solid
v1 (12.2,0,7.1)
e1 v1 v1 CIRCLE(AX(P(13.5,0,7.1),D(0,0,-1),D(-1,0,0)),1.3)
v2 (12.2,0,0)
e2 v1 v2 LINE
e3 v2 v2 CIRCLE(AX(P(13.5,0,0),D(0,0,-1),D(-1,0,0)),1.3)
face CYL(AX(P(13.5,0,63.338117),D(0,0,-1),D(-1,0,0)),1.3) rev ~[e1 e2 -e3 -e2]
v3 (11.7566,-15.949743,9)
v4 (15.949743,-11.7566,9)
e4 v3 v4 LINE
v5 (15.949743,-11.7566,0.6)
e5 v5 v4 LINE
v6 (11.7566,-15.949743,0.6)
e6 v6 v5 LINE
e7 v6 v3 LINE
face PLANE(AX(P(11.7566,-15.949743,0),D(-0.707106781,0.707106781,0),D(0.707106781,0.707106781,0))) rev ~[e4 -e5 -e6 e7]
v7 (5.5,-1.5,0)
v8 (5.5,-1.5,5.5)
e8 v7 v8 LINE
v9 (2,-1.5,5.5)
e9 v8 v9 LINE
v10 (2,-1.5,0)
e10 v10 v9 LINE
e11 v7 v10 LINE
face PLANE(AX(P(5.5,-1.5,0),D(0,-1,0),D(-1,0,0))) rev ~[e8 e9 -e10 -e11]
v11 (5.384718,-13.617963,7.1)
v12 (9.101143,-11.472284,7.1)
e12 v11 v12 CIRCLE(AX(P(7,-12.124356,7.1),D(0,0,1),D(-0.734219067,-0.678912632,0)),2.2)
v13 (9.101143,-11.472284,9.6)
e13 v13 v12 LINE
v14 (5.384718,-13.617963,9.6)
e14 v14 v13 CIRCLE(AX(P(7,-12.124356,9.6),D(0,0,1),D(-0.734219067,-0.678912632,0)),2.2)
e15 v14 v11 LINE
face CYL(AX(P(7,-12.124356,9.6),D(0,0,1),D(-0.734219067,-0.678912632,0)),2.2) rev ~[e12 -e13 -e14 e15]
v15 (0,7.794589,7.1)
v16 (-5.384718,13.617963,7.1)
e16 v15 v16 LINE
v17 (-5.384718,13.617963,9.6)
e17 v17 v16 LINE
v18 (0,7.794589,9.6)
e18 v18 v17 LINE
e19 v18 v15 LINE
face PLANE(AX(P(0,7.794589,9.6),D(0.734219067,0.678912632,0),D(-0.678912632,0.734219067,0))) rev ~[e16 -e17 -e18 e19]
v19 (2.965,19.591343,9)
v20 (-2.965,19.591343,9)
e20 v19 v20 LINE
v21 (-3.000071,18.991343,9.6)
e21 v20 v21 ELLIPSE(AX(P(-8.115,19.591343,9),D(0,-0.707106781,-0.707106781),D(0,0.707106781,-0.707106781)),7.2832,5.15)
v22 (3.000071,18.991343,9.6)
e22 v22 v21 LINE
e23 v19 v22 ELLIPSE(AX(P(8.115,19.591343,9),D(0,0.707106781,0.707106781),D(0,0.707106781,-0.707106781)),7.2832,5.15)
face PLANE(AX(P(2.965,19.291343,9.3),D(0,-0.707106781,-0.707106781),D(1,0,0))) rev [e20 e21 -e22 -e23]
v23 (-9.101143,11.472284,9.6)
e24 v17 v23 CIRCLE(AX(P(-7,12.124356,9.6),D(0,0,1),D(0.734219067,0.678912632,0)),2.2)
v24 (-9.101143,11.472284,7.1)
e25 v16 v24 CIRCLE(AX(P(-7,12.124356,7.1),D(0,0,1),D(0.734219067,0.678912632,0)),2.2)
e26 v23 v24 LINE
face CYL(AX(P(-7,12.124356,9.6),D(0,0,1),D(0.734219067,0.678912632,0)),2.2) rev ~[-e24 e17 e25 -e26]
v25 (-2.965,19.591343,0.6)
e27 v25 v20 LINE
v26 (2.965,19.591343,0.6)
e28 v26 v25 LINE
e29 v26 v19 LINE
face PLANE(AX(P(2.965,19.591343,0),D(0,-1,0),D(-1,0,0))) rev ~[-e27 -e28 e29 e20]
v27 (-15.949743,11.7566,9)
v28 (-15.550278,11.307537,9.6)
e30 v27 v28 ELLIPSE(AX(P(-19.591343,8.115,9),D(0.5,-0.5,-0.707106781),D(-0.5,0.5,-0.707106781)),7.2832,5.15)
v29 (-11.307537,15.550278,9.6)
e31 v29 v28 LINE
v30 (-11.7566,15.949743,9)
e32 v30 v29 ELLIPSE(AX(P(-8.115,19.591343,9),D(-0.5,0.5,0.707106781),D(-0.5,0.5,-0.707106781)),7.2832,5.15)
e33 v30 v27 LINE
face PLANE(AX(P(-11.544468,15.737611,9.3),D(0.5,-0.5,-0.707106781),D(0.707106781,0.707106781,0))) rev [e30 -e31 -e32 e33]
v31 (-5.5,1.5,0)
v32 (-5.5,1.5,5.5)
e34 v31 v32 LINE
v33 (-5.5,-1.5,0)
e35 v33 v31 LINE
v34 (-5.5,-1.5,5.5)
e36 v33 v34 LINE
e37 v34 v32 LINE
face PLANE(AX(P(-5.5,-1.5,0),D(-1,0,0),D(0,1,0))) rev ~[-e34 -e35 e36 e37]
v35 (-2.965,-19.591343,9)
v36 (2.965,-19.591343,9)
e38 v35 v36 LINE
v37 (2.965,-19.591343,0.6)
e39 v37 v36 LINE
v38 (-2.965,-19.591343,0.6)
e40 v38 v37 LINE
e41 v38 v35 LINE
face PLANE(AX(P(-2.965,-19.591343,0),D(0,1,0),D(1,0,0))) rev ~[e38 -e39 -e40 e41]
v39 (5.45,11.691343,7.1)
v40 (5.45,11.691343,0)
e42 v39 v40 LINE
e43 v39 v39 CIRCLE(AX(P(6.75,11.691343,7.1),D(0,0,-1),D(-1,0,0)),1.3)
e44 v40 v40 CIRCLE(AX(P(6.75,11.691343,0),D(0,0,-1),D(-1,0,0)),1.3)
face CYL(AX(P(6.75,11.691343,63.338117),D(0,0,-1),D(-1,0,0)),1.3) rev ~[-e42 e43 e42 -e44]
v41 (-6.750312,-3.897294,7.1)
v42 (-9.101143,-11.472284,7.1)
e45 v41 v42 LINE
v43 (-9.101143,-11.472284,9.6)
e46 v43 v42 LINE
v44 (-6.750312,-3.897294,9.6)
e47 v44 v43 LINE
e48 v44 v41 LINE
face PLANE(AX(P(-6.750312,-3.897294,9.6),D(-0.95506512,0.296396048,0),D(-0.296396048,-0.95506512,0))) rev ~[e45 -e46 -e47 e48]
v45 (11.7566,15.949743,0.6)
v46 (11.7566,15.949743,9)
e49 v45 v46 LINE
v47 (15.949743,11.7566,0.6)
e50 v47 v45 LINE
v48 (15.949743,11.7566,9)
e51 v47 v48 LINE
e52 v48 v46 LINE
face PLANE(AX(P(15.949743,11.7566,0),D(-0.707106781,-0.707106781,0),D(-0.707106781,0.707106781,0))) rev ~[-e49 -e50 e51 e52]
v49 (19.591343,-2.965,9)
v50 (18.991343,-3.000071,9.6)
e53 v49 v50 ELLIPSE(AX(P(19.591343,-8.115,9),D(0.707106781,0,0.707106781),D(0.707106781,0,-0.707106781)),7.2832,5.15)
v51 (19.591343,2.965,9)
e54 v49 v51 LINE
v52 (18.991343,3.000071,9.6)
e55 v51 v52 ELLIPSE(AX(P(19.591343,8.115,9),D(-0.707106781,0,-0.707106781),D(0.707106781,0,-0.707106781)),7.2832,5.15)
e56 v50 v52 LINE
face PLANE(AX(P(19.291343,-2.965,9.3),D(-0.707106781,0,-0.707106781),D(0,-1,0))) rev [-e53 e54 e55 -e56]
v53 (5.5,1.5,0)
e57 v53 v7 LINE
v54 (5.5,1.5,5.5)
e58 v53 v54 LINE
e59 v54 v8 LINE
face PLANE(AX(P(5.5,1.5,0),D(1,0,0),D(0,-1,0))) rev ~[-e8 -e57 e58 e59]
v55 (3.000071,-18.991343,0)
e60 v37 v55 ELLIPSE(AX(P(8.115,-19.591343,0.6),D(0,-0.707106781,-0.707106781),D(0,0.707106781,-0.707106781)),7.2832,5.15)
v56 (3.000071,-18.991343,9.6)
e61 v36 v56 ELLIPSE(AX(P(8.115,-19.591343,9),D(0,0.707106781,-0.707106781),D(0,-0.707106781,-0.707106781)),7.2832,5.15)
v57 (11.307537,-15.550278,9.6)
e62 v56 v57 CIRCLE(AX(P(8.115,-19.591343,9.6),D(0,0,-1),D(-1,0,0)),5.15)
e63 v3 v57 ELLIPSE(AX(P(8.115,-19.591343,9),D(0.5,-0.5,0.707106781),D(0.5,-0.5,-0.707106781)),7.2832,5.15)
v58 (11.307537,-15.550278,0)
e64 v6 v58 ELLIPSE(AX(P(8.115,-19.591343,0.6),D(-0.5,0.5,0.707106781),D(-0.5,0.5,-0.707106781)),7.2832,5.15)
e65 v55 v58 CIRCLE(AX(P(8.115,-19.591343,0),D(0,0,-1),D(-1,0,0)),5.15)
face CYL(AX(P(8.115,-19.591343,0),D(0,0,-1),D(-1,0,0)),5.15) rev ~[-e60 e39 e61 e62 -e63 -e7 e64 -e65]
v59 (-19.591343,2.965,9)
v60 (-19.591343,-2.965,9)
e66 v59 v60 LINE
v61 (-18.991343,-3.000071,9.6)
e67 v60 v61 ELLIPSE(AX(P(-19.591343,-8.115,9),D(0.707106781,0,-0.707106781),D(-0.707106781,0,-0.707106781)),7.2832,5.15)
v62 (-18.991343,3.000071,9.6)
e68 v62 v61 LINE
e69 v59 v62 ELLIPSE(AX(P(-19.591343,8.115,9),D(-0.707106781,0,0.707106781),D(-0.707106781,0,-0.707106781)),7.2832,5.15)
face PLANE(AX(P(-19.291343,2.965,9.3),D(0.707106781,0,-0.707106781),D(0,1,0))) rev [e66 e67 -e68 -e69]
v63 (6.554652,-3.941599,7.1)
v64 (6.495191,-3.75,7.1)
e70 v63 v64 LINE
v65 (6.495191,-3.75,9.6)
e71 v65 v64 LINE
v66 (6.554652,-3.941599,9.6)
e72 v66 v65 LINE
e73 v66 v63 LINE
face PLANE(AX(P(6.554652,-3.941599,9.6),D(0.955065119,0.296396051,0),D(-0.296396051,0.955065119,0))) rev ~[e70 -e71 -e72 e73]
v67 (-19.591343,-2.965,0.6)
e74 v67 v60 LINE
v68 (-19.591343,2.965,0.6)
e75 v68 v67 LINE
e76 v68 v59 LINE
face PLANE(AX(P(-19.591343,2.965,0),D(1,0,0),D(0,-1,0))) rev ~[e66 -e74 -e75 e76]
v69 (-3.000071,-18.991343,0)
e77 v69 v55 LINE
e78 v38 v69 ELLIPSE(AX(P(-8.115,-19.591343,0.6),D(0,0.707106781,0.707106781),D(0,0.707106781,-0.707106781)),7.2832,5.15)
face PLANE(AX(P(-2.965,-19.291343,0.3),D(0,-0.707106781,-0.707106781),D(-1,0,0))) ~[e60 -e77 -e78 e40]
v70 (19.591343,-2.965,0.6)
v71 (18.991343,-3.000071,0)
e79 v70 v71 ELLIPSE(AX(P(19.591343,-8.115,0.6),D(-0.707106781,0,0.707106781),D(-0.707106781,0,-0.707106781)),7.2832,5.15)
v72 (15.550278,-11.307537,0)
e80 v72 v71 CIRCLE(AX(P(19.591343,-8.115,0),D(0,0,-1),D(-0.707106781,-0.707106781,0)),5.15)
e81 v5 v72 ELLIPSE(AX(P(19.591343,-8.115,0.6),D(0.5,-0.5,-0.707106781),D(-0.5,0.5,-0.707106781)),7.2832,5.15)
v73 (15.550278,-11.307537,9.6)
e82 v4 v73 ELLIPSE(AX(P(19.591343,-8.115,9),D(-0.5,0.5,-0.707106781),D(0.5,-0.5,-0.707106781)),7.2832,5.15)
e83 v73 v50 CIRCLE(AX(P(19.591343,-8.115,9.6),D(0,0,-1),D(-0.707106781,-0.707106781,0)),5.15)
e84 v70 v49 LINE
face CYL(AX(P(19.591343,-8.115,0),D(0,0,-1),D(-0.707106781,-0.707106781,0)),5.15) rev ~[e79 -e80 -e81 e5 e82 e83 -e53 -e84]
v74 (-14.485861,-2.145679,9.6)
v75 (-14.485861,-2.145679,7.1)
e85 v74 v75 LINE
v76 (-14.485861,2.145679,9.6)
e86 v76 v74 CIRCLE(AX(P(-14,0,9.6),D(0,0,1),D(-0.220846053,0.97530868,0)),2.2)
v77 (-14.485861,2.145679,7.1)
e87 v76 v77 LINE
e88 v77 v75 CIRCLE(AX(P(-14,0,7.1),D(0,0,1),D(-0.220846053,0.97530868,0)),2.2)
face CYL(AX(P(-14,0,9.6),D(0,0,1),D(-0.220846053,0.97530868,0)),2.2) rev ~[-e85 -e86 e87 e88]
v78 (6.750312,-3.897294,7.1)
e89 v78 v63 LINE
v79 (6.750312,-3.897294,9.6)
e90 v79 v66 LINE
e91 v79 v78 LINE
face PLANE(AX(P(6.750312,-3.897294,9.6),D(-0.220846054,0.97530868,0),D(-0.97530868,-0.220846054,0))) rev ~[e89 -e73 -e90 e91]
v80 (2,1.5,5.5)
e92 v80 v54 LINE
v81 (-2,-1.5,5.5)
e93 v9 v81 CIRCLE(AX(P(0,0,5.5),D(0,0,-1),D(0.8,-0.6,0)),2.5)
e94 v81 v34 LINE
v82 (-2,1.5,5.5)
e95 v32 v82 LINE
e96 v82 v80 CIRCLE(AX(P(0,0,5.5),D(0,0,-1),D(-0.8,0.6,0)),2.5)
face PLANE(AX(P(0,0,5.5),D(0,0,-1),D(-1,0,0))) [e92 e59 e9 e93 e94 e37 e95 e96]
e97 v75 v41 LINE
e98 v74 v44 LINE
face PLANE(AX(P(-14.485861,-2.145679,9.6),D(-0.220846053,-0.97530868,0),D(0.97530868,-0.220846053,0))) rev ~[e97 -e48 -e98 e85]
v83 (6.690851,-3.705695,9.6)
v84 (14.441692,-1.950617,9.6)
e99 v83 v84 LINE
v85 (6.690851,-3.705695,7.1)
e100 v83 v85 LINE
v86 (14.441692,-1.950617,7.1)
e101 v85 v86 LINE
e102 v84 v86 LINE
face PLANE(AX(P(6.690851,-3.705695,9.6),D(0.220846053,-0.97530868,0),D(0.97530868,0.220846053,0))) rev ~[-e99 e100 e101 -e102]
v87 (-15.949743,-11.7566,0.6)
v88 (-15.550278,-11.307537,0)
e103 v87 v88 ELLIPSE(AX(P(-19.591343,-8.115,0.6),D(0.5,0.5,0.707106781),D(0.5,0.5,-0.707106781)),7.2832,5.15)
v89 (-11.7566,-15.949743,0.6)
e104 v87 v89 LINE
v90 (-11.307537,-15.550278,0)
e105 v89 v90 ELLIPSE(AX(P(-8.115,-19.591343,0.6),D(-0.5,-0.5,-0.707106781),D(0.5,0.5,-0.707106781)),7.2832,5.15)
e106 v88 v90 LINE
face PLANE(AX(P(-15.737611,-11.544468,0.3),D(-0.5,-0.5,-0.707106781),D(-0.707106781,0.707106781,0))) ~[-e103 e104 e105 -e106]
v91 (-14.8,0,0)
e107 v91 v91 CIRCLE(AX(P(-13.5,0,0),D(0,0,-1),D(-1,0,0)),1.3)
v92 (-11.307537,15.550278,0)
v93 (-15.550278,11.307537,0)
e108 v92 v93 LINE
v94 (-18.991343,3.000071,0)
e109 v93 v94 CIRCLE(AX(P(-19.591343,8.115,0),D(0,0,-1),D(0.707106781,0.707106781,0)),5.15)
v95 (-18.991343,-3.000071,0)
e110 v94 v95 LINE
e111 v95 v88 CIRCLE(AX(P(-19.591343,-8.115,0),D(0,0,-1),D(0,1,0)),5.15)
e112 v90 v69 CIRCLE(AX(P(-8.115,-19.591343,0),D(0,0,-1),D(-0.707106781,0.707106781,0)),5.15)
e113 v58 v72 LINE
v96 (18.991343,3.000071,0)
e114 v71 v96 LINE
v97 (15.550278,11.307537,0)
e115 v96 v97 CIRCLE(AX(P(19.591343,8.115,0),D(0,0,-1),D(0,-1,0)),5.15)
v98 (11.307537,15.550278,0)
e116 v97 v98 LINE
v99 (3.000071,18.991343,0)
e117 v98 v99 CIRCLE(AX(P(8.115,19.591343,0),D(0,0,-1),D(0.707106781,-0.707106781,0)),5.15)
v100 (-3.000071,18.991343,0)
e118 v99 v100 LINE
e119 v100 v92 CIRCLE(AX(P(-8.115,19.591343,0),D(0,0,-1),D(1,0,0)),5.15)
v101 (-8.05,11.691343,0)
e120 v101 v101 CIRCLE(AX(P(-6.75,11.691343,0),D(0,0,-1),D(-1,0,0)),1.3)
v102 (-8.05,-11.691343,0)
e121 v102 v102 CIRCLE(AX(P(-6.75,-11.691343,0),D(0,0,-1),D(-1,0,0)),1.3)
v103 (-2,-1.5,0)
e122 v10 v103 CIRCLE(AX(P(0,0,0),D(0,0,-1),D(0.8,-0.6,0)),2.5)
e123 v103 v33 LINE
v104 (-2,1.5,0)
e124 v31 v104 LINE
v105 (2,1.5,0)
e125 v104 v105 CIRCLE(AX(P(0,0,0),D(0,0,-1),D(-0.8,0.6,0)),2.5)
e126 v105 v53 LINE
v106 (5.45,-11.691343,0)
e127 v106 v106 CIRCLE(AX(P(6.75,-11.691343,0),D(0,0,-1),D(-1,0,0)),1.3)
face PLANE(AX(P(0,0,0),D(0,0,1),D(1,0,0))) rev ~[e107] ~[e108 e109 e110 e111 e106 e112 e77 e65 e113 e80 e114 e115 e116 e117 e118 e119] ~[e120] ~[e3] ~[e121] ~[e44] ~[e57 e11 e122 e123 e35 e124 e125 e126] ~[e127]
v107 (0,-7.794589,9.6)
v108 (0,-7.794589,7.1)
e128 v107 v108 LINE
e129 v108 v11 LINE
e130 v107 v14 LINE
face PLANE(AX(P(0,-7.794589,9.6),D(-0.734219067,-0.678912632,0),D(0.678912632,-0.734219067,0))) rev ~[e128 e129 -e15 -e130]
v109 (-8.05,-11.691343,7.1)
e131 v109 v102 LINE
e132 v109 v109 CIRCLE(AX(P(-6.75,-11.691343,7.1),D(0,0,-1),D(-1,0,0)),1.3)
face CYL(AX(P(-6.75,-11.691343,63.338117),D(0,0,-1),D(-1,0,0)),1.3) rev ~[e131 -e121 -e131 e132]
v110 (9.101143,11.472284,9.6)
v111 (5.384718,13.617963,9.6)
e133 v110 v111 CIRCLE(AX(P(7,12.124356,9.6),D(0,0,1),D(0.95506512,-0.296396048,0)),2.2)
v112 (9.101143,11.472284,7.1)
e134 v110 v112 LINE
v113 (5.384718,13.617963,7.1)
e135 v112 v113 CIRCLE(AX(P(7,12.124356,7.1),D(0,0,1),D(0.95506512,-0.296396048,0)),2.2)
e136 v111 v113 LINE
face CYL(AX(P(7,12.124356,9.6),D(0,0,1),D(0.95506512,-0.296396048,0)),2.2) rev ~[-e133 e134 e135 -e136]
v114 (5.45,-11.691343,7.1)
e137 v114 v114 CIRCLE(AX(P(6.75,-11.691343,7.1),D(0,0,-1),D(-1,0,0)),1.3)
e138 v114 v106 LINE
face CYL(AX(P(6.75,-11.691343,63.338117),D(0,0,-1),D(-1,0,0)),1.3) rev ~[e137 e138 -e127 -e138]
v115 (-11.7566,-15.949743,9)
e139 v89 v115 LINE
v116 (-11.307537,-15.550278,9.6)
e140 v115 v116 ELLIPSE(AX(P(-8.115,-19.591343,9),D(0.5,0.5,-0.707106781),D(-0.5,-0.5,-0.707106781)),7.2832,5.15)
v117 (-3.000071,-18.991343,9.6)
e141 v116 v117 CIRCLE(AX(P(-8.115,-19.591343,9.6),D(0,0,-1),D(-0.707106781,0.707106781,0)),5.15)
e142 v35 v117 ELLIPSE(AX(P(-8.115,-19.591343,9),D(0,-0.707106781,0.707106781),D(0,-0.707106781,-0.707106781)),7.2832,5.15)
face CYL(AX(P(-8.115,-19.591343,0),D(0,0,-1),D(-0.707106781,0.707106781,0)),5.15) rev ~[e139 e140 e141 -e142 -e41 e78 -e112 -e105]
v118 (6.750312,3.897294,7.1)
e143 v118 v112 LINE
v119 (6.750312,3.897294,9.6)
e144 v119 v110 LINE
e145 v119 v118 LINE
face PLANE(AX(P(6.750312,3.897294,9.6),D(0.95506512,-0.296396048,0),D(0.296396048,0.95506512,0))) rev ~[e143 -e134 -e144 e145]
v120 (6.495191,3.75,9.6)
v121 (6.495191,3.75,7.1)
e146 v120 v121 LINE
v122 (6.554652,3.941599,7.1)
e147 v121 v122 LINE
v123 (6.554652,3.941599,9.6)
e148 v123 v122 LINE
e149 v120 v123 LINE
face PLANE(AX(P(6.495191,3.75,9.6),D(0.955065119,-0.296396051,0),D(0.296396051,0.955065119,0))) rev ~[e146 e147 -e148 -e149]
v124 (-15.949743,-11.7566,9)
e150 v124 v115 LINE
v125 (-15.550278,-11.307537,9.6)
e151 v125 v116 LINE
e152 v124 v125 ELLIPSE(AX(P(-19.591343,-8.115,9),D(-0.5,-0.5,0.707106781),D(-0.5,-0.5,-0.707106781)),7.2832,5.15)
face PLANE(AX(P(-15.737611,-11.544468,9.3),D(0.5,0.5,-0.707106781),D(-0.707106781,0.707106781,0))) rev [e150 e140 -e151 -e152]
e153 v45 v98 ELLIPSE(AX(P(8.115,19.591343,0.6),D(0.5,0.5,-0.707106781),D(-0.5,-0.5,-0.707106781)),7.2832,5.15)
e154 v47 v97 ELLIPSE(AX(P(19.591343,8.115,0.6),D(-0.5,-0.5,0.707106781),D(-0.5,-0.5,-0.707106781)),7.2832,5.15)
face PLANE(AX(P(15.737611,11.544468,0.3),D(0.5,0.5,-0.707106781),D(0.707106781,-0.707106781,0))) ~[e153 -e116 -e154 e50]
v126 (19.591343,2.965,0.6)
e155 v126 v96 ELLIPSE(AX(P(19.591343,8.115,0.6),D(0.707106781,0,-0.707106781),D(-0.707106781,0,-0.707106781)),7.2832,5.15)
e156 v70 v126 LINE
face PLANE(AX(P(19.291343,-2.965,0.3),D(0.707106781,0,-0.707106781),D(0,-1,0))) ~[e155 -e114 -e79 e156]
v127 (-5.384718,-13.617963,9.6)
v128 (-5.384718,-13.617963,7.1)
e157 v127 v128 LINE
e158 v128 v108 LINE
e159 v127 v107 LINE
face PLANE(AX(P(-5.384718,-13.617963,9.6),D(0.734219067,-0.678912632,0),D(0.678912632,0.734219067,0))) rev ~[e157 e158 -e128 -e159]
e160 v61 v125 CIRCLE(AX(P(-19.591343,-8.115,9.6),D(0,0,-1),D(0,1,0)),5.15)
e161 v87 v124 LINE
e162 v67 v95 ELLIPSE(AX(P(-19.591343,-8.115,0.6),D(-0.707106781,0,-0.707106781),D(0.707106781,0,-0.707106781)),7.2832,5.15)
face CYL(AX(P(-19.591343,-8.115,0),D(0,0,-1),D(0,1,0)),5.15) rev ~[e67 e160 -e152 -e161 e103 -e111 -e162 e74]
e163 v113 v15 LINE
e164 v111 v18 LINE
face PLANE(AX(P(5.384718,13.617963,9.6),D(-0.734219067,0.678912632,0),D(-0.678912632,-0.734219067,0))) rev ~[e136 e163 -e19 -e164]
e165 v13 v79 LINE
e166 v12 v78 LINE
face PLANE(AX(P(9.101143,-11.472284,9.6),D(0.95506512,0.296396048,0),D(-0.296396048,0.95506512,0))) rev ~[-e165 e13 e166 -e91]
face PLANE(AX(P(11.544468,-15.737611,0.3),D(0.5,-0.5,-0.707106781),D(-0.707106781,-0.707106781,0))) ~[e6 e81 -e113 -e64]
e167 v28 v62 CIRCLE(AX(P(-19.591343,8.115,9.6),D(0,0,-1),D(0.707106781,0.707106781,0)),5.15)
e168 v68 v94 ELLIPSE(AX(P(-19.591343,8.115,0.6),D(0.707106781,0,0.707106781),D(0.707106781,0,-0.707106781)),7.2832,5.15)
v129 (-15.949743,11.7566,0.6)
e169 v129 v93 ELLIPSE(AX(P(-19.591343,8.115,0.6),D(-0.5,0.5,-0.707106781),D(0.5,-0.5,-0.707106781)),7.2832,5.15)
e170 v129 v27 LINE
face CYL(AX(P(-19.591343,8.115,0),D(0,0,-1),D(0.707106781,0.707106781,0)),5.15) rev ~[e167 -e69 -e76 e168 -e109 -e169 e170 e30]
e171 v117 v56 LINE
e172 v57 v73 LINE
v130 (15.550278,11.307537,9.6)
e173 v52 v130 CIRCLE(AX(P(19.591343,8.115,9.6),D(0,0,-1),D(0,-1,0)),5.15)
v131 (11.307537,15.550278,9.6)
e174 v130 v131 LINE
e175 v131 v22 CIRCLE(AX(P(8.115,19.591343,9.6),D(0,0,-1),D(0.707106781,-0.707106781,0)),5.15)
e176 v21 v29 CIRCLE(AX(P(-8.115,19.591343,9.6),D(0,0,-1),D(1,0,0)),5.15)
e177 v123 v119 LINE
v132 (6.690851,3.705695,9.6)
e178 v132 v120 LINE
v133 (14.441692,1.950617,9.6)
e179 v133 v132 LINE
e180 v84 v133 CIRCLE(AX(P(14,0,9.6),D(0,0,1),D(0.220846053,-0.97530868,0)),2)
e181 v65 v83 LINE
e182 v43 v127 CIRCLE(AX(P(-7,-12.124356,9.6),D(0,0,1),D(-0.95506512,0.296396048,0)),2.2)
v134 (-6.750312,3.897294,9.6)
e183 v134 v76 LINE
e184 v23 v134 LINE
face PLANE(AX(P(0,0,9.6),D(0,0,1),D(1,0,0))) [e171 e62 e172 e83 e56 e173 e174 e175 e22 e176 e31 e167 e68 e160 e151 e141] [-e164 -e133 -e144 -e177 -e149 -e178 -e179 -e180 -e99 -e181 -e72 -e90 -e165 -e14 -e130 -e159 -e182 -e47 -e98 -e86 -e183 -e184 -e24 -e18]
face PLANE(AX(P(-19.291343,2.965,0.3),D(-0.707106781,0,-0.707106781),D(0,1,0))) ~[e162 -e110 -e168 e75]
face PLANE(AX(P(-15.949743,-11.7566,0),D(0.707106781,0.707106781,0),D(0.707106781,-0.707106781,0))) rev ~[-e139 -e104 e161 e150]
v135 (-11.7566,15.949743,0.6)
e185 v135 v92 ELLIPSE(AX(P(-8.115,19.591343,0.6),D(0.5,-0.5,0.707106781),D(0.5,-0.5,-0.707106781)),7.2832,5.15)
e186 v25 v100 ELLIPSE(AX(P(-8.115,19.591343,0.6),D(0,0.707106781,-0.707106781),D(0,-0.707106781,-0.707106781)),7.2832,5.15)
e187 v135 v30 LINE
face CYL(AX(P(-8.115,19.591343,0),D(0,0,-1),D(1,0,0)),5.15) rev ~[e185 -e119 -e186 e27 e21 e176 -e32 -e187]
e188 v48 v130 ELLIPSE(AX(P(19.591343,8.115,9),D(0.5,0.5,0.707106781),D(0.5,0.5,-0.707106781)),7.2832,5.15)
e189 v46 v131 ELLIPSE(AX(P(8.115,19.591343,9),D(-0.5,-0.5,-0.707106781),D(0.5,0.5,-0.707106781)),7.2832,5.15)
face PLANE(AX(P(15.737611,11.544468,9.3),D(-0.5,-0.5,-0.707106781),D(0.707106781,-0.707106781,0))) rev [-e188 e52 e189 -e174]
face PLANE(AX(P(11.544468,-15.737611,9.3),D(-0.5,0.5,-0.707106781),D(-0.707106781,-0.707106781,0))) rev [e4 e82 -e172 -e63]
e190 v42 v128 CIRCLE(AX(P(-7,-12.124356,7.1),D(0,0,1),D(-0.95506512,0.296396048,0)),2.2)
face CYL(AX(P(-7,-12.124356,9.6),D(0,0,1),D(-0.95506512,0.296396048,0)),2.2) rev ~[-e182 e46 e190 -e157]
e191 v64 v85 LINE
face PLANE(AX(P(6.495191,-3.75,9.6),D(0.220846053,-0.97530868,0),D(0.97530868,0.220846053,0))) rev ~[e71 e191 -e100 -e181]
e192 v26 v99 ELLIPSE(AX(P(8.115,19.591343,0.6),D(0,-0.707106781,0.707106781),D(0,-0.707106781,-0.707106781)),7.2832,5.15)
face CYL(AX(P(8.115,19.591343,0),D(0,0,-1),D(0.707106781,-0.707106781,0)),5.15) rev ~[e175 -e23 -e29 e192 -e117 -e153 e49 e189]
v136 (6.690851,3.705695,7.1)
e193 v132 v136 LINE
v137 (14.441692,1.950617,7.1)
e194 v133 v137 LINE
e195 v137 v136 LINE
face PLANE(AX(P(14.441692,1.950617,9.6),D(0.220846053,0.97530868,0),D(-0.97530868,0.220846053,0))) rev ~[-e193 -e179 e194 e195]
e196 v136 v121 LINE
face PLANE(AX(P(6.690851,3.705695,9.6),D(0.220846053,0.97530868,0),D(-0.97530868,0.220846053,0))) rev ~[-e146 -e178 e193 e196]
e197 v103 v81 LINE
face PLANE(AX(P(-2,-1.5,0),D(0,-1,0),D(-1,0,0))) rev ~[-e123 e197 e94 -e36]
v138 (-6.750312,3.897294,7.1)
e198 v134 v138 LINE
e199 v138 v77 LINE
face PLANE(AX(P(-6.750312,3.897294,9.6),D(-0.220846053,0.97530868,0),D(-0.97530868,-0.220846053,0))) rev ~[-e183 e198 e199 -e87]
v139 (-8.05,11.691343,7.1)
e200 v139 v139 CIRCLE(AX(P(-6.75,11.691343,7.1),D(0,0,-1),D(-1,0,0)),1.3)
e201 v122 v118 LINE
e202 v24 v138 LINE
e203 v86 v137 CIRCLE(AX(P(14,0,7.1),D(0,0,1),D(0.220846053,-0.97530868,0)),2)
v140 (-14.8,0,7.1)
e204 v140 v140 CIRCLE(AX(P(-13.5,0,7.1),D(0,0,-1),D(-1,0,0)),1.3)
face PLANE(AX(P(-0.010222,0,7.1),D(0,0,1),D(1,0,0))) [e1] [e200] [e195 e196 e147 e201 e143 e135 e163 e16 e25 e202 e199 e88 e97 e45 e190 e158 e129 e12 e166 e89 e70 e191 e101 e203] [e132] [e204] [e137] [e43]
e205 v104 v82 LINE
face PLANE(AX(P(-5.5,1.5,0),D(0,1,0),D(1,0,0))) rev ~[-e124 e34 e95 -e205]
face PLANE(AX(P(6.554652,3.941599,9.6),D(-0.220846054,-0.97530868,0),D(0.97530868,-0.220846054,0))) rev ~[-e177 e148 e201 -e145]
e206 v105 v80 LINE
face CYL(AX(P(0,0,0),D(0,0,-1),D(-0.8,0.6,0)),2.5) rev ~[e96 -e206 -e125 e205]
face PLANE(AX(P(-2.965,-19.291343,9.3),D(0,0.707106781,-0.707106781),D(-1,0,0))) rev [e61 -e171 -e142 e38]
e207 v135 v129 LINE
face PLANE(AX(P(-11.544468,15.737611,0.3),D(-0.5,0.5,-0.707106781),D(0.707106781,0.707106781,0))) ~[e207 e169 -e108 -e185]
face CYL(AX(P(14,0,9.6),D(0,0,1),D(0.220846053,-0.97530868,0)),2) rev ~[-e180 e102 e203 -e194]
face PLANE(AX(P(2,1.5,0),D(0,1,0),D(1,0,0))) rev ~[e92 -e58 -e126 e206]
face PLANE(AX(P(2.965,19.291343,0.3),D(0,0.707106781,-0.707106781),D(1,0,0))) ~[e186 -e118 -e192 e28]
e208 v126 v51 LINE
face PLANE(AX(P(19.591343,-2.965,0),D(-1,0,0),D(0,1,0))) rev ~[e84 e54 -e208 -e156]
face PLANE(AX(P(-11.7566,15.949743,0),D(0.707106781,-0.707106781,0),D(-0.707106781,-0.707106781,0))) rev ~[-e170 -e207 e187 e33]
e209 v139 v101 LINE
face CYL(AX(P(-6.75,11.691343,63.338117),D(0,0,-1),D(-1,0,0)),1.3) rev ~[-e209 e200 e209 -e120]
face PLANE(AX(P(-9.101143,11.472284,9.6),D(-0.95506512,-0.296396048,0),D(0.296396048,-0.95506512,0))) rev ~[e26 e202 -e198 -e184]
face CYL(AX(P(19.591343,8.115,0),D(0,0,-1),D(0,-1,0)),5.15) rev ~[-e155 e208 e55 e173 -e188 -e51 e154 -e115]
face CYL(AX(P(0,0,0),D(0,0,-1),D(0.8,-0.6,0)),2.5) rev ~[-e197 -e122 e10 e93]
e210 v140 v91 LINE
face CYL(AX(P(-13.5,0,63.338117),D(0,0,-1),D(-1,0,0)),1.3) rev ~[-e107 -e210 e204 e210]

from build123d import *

# Parameters (mm, degrees)
BOSS_EXTRUDE1_DEPTH  = 9.6
CHAMFER2_SIZE        = 0.6
CUT_EXTRUDE2_DEPTH   = 2.5
M2_CLEARANCE_HOLE1_D = 2.6
CUT_EXTRUDE3_START   = -9.6
CUT_EXTRUDE3_DEPTH   = 5.5


with BuildPart() as part:
    # Sketch1 → Boss-Extrude1 (new body)
    with BuildSketch(Plane.XY):
        with BuildLine():
            ThreePointArc((-11.756599923, -15.949743136), (-6.144180323, -14.833363466), (-2.965, -19.591343059))
            Line((-2.965, -19.591343059), (2.965, -19.591343059))
            ThreePointArc((2.965, -19.591343059), (6.144180323, -14.833363466), (11.756599923, -15.949743136))
            Line((11.756599923, -15.949743136), (15.949743136, -11.756599923))
            ThreePointArc((15.949743136, -11.756599923), (14.833363466, -6.144180323), (19.591343059, -2.965))
            Line((19.591343059, -2.965), (19.591343059, 2.965))
            ThreePointArc((19.591343059, 2.965), (14.833363466, 6.144180323), (15.949743136, 11.756599923))
            Line((15.949743136, 11.756599923), (11.756599923, 15.949743136))
            ThreePointArc((11.756599923, 15.949743136), (6.144180323, 14.833363466), (2.965, 19.591343059))
            Line((2.965, 19.591343059), (-2.965, 19.591343059))
            ThreePointArc((-2.965, 19.591343059), (-6.144180323, 14.833363466), (-11.756599923, 15.949743136))
            Line((-11.756599923, 15.949743136), (-15.949743136, 11.756599923))
            ThreePointArc((-15.949743136, 11.756599923), (-14.833363466, 6.144180323), (-19.591343059, 2.965))
            Line((-19.591343059, 2.965), (-19.591343059, -2.965))
            ThreePointArc((-19.591343059, -2.965), (-14.833363466, -6.144180323), (-15.949743136, -11.756599923))
            Line((-15.949743136, -11.756599923), (-11.756599923, -15.949743136))
        make_face()
    extrude(amount=BOSS_EXTRUDE1_DEPTH)

    # Chamfer2
    chamfer2_edges = [part.edges().sort_by_distance(p)[0] for p in [
        (-19.591343059, 0, 9.6),
        (-13.853171529, 13.853171529, 0),
        (0, 19.591343059, 0),
        (13.853171529, 13.853171529, 0),
        (19.591343059, 0, 0),
        (-13.853171529, -13.853171529, 9.6),
        (13.853171529, -13.853171529, 0),
        (0, -19.591343059, 0),
        (-13.853171529, -13.853171529, 0),
        (-19.591343059, 0, 0),
        (0, -19.591343059, 9.6),
        (13.853171529, -13.853171529, 9.6),
        (19.591343059, 0, 9.6),
        (13.853171529, 13.853171529, 9.6),
        (0, 19.591343059, 9.6),
        (-13.853171529, 13.853171529, 9.6),
    ]]
    chamfer(chamfer2_edges, length=CHAMFER2_SIZE)

    # Sketch4 → Cut-Extrude2 (cut)
    with BuildSketch(Plane.XY.offset(9.6)):
        with BuildLine():
            ThreePointArc((14.441692106, -1.95061736), (16, 0), (14.441692106, 1.95061736))
            Line((14.441692106, 1.95061736), (6.69085075, 3.70569527))
            Line((6.69085075, 3.70569527), (6.495190528, 3.75))
            Line((6.495190528, 3.75), (6.554651618, 3.941599088))
            Line((6.554651618, 3.941599088), (6.750311839, 3.897294358))
            Line((6.750311839, 3.897294358), (9.101143263, 11.472284348))
            ThreePointArc((9.101143263, 11.472284348), (8.1, 14.029611541), (5.384718053, 13.617963443))
            Line((5.384718053, 13.617963443), (0, 7.794588715))
            Line((0, 7.794588715), (-5.384718053, 13.617963443))
            ThreePointArc((-5.384718053, 13.617963443), (-8.1, 14.029611541), (-9.101143263, 11.472284348))
            Line((-9.101143263, 11.472284348), (-6.750311839, 3.897294358))
            Line((-6.750311839, 3.897294358), (-14.485861316, 2.145679096))
            ThreePointArc((-14.485861316, 2.145679096), (-16.2, 0), (-14.485861316, -2.145679096))
            Line((-14.485861316, -2.145679096), (-6.750311839, -3.897294358))
            Line((-6.750311839, -3.897294358), (-9.101143263, -11.472284348))
            ThreePointArc((-9.101143263, -11.472284348), (-8.1, -14.029611541), (-5.384718053, -13.617963443))
            Line((-5.384718053, -13.617963443), (0, -7.794588715))
            Line((0, -7.794588715), (5.384718053, -13.617963443))
            ThreePointArc((5.384718053, -13.617963443), (8.1, -14.029611541), (9.101143263, -11.472284348))
            Line((9.101143263, -11.472284348), (6.750311839, -3.897294358))
            Line((6.750311839, -3.897294358), (6.554651618, -3.941599088))
            Line((6.554651618, -3.941599088), (6.495190528, -3.75))
            Line((6.495190528, -3.75), (6.69085075, -3.70569527))
            Line((6.69085075, -3.70569527), (14.441692106, -1.95061736))
        make_face()
    extrude(amount=-CUT_EXTRUDE2_DEPTH, mode=Mode.SUBTRACT)

    # M2 Clearance Hole1 (through all)
    with Locations(Plane.XY.offset(7.1)):
        with Locations((13.5, 0), (6.75, -11.691342951), (-6.75, -11.691342951), (-13.5, 0), (-6.75, 11.691342951), (6.75, 11.691342951)):
            Hole(M2_CLEARANCE_HOLE1_D / 2)

    # Sketch3<2> → Cut-Extrude3 (cut)
    with BuildSketch(Plane.XY.offset(9.6).offset(CUT_EXTRUDE3_START)):
        with BuildLine():
            Line((-2, -1.5), (-5.5, -1.5))
            Line((-5.5, -1.5), (-5.5, 1.5))
            Line((-5.5, 1.5), (-2, 1.5))
            ThreePointArc((-2, 1.5), (0, 2.5), (2, 1.5))
            Line((2, 1.5), (5.5, 1.5))
            Line((5.5, 1.5), (5.5, -1.5))
            Line((5.5, -1.5), (2, -1.5))
            ThreePointArc((2, -1.5), (0, -2.5), (-2, -1.5))
        make_face()
    extrude(amount=CUT_EXTRUDE3_DEPTH, mode=Mode.SUBTRACT)


solid = part.part
